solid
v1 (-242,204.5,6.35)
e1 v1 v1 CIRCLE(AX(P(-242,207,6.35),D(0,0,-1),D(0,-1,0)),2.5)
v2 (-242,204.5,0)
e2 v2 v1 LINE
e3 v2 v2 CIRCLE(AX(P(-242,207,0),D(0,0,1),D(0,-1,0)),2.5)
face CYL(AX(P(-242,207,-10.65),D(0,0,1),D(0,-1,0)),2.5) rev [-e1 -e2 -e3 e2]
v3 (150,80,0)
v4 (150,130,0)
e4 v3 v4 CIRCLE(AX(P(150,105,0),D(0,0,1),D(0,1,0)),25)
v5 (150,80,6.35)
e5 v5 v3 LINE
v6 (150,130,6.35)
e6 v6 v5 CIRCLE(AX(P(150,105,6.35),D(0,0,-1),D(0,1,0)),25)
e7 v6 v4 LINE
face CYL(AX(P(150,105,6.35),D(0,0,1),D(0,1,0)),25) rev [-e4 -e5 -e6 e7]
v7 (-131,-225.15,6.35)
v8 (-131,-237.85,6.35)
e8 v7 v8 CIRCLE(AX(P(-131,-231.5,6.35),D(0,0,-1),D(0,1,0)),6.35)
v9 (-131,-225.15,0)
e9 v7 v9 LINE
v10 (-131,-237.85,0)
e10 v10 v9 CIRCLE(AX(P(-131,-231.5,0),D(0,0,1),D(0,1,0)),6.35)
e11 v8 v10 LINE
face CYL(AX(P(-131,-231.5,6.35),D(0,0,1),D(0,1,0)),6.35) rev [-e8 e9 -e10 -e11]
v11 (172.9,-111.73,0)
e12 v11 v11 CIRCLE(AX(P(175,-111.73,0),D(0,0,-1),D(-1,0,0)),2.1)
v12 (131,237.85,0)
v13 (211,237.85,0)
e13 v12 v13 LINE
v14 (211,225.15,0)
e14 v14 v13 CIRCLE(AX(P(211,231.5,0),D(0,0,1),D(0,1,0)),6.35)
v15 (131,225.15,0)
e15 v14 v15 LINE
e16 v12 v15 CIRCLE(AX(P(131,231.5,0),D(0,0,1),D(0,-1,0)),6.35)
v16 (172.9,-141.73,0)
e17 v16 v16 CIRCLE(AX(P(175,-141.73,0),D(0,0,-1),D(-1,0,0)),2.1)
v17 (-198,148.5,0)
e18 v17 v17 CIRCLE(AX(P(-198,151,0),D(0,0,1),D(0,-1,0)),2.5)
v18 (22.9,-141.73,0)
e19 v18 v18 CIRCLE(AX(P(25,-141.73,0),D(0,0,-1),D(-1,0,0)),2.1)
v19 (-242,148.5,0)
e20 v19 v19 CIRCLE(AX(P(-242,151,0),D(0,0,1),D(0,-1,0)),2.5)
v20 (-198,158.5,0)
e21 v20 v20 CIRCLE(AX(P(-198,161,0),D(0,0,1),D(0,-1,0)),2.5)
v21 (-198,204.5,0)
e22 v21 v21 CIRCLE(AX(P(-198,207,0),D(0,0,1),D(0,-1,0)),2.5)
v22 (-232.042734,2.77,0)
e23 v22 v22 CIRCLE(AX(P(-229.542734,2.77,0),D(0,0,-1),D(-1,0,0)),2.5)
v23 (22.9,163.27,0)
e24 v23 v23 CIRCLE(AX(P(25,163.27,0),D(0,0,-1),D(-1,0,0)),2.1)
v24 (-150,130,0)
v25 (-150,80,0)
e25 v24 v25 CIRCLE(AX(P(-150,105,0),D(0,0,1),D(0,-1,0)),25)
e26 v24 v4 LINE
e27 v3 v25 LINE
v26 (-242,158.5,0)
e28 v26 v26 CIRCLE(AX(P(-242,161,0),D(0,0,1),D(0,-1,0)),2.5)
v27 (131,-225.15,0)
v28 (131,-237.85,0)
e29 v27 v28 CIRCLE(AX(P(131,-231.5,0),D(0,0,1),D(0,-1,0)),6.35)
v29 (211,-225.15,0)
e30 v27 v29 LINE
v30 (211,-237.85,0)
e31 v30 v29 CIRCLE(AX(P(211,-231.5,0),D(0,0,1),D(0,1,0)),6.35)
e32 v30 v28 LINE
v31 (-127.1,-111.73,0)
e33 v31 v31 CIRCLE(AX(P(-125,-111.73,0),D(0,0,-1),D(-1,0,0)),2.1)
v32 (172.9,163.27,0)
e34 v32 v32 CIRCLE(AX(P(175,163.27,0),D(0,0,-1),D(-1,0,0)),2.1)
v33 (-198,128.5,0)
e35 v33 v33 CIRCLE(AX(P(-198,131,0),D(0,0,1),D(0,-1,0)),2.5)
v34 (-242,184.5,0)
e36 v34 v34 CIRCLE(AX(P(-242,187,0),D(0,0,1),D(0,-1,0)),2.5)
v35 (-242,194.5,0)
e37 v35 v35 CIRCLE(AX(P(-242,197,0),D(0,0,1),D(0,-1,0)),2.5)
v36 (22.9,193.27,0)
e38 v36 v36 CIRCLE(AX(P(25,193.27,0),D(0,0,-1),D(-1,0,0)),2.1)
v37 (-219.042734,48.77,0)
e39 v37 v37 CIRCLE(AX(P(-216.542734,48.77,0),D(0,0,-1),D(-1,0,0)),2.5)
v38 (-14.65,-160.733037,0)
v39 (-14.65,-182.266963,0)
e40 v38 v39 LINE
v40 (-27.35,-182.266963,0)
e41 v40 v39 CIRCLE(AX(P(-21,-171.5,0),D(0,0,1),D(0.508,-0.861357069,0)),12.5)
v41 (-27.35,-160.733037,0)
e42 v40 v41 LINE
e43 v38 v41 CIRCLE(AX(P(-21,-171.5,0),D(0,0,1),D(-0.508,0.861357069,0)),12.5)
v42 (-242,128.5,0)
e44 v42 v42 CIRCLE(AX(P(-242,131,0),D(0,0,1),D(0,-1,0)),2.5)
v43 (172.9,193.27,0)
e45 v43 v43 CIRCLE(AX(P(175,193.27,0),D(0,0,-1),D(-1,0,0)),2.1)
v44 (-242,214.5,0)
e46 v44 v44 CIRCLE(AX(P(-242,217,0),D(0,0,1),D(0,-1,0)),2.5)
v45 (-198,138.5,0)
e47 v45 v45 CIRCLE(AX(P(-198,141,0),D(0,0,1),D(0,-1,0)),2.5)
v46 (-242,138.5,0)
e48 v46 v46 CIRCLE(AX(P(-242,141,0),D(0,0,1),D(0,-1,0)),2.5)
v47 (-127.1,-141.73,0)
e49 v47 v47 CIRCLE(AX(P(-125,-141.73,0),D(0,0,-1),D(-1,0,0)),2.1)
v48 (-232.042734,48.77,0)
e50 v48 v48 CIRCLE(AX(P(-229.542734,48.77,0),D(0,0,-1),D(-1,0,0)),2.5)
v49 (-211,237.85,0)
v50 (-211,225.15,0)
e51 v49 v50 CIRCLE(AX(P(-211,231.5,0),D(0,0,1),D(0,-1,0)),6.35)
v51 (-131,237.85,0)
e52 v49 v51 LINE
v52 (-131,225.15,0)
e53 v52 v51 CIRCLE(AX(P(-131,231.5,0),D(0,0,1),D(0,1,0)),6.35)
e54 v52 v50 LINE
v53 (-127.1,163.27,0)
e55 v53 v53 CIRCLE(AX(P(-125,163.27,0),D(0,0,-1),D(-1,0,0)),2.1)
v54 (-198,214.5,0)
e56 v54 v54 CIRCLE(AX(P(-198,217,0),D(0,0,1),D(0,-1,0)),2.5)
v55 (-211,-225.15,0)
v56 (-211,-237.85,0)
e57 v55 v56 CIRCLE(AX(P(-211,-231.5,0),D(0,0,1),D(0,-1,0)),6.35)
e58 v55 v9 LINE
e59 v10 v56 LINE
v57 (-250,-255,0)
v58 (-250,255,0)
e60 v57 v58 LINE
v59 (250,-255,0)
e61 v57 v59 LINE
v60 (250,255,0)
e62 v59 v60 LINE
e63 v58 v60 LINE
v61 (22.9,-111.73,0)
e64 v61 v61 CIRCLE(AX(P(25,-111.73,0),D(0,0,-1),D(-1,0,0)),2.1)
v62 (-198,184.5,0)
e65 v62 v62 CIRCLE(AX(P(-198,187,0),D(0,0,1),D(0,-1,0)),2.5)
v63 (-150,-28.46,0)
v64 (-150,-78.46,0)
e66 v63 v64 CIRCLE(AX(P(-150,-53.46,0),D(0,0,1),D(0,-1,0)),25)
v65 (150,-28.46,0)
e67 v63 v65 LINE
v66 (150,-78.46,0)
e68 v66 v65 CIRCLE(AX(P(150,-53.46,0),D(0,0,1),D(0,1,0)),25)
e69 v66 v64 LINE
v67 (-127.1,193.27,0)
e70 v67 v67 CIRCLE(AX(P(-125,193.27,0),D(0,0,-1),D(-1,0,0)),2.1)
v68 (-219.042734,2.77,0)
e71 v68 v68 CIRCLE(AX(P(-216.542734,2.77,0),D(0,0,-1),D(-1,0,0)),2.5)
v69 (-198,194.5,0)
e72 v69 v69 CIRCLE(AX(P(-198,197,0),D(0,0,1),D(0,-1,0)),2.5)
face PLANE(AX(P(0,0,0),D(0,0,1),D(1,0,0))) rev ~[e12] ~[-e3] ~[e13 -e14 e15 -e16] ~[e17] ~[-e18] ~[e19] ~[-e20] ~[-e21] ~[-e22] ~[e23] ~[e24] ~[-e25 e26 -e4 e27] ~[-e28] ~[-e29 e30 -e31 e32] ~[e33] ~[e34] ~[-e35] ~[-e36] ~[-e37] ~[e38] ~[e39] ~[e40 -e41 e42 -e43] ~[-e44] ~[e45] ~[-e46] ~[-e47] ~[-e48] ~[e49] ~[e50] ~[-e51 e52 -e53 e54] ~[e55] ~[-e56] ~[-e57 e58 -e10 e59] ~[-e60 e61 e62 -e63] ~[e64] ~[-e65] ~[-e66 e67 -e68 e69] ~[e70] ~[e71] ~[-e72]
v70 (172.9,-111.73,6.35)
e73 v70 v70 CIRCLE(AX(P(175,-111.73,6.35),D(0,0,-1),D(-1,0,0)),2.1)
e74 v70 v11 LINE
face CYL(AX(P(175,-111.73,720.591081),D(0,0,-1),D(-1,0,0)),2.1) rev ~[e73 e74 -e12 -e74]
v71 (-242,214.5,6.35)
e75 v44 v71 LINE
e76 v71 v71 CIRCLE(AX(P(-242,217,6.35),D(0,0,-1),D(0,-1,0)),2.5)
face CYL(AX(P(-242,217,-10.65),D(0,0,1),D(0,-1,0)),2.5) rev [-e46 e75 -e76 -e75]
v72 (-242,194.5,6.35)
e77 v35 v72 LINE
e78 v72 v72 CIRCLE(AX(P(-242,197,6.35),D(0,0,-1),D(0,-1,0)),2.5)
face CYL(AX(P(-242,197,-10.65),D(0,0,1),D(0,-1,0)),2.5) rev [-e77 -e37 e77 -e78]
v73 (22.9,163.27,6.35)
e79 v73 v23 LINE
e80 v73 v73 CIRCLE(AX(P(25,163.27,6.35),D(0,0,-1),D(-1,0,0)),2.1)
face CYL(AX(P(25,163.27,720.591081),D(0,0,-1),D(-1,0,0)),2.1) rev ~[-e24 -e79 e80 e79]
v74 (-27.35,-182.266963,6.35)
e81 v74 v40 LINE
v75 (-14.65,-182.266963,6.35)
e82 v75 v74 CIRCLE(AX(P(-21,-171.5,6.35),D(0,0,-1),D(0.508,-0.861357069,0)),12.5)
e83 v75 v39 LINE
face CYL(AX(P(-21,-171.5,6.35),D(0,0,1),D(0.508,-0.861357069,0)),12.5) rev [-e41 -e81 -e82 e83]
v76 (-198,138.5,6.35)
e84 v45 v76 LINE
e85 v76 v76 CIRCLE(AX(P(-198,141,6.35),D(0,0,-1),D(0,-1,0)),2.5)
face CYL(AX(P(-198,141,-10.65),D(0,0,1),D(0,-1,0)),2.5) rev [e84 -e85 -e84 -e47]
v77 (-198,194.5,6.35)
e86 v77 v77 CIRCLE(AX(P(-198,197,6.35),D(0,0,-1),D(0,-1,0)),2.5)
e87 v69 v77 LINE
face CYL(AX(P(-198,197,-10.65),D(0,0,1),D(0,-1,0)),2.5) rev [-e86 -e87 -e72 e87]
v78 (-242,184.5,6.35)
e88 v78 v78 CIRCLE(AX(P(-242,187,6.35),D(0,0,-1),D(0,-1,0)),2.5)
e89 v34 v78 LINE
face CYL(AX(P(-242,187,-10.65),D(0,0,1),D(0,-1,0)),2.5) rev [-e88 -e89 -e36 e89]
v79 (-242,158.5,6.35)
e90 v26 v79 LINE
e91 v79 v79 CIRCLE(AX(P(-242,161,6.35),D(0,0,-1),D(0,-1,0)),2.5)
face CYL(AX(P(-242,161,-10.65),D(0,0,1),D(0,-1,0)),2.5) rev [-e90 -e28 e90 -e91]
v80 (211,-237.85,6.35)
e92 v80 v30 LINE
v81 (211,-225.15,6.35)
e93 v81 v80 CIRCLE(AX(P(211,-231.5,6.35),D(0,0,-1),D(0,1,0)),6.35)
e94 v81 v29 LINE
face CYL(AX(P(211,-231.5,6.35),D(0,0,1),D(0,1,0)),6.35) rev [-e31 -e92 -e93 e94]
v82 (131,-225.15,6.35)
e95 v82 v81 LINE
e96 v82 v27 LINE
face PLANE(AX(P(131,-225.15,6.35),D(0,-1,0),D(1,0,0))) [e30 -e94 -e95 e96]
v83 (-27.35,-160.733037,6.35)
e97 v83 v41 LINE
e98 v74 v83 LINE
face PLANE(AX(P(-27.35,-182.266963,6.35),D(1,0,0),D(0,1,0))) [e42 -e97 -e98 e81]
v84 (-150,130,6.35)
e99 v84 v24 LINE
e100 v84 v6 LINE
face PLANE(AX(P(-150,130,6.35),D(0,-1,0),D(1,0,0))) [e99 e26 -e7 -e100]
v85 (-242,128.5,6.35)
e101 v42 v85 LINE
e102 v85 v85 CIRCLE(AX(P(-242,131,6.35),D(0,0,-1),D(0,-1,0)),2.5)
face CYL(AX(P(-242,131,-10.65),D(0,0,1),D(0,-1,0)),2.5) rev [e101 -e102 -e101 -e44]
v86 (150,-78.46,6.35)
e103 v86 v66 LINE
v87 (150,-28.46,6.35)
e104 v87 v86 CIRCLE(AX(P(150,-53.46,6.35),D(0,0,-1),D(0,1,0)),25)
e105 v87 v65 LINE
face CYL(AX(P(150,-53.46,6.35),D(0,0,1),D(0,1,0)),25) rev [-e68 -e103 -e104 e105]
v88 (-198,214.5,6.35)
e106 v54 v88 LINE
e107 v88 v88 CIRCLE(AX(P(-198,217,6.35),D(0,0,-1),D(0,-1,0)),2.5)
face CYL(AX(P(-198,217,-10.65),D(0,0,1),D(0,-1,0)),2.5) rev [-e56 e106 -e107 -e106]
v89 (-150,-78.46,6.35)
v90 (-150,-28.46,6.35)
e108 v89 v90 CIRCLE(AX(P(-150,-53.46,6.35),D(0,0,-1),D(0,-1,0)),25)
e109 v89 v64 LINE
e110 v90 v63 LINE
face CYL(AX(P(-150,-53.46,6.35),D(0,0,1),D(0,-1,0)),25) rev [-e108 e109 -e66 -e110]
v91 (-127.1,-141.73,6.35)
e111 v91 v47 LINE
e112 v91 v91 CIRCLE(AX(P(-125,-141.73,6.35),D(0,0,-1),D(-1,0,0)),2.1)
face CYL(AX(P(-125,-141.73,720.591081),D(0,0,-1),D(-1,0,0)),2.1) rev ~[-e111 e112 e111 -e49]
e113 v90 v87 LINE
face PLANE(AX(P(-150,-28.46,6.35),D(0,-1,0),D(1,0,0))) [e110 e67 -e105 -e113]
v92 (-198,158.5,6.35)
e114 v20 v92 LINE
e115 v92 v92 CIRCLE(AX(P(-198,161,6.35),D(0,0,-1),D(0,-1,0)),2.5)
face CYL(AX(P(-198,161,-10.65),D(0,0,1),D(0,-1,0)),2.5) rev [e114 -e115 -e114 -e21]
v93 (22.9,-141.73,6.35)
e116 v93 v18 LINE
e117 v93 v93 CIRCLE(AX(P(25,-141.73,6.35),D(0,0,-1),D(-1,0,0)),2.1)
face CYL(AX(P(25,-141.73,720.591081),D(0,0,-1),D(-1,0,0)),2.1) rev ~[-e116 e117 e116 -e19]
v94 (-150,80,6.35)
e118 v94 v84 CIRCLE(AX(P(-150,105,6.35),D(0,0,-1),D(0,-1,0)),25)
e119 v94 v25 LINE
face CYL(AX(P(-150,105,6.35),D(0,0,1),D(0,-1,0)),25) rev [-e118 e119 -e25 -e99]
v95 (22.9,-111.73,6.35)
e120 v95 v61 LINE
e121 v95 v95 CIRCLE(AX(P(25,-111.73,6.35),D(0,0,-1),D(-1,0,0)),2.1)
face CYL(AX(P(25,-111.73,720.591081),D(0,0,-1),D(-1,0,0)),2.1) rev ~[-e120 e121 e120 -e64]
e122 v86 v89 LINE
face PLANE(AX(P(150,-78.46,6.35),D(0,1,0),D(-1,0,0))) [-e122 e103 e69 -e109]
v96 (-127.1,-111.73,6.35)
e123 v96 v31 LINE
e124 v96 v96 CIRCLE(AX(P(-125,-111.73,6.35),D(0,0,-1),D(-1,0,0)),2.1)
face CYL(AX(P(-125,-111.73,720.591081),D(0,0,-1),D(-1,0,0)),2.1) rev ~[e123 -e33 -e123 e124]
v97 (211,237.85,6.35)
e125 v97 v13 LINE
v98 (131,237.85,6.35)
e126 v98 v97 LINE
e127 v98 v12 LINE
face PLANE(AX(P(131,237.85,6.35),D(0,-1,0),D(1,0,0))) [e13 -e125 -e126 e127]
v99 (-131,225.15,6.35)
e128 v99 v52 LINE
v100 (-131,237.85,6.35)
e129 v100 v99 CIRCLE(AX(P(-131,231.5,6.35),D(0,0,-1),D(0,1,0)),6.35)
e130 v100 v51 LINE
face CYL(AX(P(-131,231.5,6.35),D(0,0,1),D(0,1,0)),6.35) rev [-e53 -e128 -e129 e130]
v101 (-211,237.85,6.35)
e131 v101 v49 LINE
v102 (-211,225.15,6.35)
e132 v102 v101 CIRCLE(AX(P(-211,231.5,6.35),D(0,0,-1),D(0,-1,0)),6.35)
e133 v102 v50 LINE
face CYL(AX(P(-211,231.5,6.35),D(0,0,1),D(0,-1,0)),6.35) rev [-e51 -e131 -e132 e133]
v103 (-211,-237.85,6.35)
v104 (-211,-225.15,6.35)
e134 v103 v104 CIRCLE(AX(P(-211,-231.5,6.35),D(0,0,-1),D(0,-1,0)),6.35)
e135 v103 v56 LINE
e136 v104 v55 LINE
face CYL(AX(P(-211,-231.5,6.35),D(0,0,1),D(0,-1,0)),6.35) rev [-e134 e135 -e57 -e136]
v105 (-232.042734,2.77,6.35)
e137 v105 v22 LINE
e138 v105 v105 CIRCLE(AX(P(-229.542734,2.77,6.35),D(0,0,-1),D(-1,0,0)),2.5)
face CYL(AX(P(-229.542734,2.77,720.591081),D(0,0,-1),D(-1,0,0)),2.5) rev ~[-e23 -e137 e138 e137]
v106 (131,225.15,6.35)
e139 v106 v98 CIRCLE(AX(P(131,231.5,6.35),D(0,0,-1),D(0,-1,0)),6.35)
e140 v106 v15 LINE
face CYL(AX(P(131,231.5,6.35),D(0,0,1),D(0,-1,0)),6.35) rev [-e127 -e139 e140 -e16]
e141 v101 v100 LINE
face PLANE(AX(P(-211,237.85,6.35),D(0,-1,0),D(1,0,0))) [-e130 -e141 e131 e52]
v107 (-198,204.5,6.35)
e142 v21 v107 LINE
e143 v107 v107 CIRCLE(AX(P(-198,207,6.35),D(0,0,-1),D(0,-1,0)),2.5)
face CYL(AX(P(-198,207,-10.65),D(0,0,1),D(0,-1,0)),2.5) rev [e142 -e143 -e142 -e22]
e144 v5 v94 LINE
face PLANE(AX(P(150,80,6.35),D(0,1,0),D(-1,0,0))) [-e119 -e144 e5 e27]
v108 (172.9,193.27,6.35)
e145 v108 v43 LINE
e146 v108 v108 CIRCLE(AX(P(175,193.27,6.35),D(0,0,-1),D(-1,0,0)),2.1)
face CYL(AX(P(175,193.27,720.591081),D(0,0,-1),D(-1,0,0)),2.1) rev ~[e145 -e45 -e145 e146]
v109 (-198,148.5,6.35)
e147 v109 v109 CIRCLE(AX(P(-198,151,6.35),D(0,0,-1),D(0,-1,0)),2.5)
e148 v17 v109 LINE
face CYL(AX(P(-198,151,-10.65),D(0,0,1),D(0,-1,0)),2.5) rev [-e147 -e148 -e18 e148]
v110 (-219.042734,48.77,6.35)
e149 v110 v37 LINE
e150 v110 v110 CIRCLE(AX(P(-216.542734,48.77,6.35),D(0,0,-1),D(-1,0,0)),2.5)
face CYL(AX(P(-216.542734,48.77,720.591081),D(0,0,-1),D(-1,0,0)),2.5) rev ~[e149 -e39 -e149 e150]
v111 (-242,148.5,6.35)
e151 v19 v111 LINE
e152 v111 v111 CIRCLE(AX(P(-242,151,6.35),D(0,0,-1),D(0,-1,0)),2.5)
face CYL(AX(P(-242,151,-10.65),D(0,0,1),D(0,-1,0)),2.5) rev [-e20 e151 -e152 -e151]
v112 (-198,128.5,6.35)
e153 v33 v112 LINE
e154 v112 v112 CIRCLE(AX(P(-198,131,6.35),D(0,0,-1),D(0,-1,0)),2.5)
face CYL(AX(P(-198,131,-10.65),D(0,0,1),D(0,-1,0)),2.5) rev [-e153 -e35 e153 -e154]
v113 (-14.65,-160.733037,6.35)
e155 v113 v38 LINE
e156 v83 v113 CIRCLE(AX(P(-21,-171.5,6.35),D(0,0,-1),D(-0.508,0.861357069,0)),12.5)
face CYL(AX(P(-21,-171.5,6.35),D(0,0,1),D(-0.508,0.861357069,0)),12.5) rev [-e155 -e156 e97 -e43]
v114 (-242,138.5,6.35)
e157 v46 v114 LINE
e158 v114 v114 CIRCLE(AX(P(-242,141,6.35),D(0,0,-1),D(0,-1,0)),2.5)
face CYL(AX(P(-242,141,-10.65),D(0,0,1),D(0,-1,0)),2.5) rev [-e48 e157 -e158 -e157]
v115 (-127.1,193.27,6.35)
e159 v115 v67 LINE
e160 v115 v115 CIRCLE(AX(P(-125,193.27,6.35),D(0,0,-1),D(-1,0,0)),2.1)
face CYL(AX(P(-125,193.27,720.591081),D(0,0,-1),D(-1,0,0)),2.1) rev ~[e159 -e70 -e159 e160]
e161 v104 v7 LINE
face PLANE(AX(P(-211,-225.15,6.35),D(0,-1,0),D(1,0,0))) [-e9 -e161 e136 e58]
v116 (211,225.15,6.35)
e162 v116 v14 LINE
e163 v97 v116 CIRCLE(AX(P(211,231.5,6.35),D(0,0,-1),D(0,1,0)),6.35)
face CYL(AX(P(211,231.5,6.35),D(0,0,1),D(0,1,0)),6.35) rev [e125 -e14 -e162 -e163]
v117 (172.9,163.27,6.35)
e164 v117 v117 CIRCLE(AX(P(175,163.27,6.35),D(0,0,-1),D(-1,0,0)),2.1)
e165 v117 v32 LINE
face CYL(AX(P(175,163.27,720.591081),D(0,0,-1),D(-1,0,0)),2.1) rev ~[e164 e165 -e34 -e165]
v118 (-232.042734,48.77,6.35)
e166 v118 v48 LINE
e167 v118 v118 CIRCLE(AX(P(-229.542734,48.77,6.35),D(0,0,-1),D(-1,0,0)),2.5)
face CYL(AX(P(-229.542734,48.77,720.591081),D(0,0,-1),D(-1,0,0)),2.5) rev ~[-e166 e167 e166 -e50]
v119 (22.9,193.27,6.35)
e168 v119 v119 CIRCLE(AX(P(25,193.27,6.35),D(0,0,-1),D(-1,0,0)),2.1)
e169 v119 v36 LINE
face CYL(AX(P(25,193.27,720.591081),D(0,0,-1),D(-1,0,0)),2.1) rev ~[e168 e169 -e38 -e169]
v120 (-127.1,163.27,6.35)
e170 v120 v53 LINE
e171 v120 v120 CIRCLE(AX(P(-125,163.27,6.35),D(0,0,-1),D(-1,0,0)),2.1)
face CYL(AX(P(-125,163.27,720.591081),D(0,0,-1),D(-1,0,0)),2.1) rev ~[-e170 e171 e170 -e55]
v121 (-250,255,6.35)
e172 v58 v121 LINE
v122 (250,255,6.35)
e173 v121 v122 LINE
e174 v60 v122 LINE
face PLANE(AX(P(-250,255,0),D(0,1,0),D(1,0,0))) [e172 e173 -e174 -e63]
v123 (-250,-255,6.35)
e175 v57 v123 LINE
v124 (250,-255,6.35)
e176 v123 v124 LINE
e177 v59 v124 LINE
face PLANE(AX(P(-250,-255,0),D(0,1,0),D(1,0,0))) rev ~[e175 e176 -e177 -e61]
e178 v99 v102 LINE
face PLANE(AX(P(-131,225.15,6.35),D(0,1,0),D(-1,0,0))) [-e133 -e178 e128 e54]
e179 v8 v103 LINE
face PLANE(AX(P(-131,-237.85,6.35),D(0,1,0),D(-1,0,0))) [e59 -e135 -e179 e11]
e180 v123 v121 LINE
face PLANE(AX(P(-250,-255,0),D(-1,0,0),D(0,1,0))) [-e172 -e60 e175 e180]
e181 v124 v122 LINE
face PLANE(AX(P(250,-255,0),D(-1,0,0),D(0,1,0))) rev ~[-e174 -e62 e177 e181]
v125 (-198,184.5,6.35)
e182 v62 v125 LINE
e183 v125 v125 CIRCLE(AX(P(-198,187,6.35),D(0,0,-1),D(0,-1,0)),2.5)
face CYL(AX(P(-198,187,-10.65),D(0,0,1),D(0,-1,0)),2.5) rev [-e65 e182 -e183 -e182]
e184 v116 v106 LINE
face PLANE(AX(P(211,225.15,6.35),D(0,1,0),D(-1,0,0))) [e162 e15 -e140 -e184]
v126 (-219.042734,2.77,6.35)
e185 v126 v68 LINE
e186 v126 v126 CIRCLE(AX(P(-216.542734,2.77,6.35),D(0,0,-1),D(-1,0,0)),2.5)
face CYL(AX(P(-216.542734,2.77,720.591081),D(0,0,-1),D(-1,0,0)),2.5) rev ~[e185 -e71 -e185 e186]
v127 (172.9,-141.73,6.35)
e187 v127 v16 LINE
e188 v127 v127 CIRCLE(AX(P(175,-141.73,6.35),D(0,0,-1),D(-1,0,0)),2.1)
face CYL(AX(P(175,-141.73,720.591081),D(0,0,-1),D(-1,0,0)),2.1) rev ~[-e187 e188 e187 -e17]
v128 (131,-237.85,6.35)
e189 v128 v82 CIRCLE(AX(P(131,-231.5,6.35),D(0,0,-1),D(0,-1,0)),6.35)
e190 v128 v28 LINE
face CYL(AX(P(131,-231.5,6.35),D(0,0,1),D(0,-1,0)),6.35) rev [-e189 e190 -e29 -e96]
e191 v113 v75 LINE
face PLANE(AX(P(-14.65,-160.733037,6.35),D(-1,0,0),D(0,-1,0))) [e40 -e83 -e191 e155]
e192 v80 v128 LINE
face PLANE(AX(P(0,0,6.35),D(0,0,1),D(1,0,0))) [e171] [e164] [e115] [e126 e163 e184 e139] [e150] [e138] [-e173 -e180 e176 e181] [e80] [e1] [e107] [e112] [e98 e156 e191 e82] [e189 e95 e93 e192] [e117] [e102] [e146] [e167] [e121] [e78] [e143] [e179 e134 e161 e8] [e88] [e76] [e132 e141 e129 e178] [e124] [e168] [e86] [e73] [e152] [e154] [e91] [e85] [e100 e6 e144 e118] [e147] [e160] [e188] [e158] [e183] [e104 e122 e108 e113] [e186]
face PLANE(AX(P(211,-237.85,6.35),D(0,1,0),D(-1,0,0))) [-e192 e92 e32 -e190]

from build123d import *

# Parameters (mm, degrees)
CROQUIS1_W                         = 500
CROQUIS1_H                         = 510
SALIENTE_EXTRUIR1_DEPTH            = 6.35
CORTAR_EXTRUIR1_DEPTH              = 358.16287951
CORTAR_EXTRUIR2_DEPTH              = 358.16287951
TALADRO_ROSCADO_M6X1_01_AT_2_COUNT = 2
TALADRO_ROSCADO_M6X1_01_AT_2_PITCH = 44
TALADRO_ROSCADO_M6X1_01_AT_3_COUNT = 2
TALADRO_ROSCADO_M6X1_01_AT_3_PITCH = 71.217975259
TALADRO_ROSCADO_M6X1_01_AT_4_COUNT = 2
TALADRO_ROSCADO_M6X1_01_AT_4_PITCH = 56
MATRIZL1_COUNT                     = 4
MATRIZL1_PITCH                     = 10
TALADRO_ROSCADO_M5X0_82_D          = 4.2
TALADRO_ROSCADO_M6X1_02_D          = 5


with BuildPart() as part:
    # Croquis1 → Saliente-Extruir1 (new body)
    with BuildSketch(Plane.XY):
        Rectangle(CROQUIS1_W, CROQUIS1_H)
    extrude(amount=SALIENTE_EXTRUIR1_DEPTH)

    # Croquis2 → Cortar-Extruir1 (cut, through all)
    with BuildSketch(Plane.XY.offset(6.35)):
        with BuildLine():
            Line((-211, -225.15), (-131, -225.15))
            ThreePointArc((-131, -225.15), (-124.65, -231.5), (-131, -237.85))
            Line((-131, -237.85), (-211, -237.85))
            ThreePointArc((-211, -237.85), (-217.35, -231.5), (-211, -225.15))
        make_face()
        with BuildLine():
            Line((-211, 237.85), (-131, 237.85))
            ThreePointArc((-131, 237.85), (-124.65, 231.5), (-131, 225.15))
            Line((-131, 225.15), (-211, 225.15))
            ThreePointArc((-211, 225.15), (-217.35, 231.5), (-211, 237.85))
        make_face()
        with BuildLine():
            Line((131, 237.85), (211, 237.85))
            ThreePointArc((211, 237.85), (217.35, 231.5), (211, 225.15))
            Line((211, 225.15), (131, 225.15))
            ThreePointArc((131, 225.15), (124.65, 231.5), (131, 237.85))
        make_face()
        with BuildLine():
            Line((131, -225.15), (211, -225.15))
            ThreePointArc((211, -225.15), (217.35, -231.5), (211, -237.85))
            Line((211, -237.85), (131, -237.85))
            ThreePointArc((131, -237.85), (124.65, -231.5), (131, -225.15))
        make_face()
        with BuildLine():
            Line((-14.65, -160.73303664), (-14.65, -182.26696336))
            ThreePointArc((-14.65, -182.26696336), (-21, -184), (-27.35, -182.26696336))
            Line((-27.35, -182.26696336), (-27.35, -160.73303664))
            ThreePointArc((-27.35, -160.73303664), (-21, -159), (-14.65, -160.73303664))
        make_face()
    extrude(amount=-CORTAR_EXTRUIR1_DEPTH, mode=Mode.SUBTRACT)

    # Croquis4 → Cortar-Extruir2 (cut, through all)
    with BuildSketch(Plane.XY.offset(6.35)):
        with BuildLine():
            Line((-150, 130), (150, 130))
            ThreePointArc((150, 130), (175, 105), (150, 80))
            Line((150, 80), (-150, 80))
            ThreePointArc((-150, 80), (-175, 105), (-150, 130))
        make_face()
        with BuildLine():
            Line((-150, -28.46), (150, -28.46))
            ThreePointArc((150, -28.46), (175, -53.46), (150, -78.46))
            Line((150, -78.46), (-150, -78.46))
            ThreePointArc((-150, -78.46), (-175, -53.46), (-150, -28.46))
        make_face()
    extrude(amount=-CORTAR_EXTRUIR2_DEPTH, mode=Mode.SUBTRACT)

    # Croquis7 → Taladro roscado M6x1.01 (revolve, cut)
    with BuildSketch(Plane(origin=(-242, 217, 6.35), x_dir=(0, -1, 0), z_dir=(1, 0, 0))):
        Polygon((0, 0), (0, 18.502151548), (2.5, 17), (2.5, 0), align=None)
    taladro_roscado_m6x1_01 = revolve(axis=Axis((-242, 217, 12.7), (0, 0, -1)), mode=Mode.SUBTRACT)

    # Taladro roscado M6x1.01 at 2: Taladro roscado M6x1.01 ×2
    with Locations(*[(i * TALADRO_ROSCADO_M6X1_01_AT_2_PITCH, 0, 0) for i in range(1, TALADRO_ROSCADO_M6X1_01_AT_2_COUNT)]):
        add(taladro_roscado_m6x1_01, mode=Mode.SUBTRACT)

    # Taladro roscado M6x1.01 at 3: Taladro roscado M6x1.01 ×2
    with Locations(*[Vector(0.6178215519319036, -0.7863183388224226, 0) * (i * TALADRO_ROSCADO_M6X1_01_AT_3_PITCH) for i in range(1, TALADRO_ROSCADO_M6X1_01_AT_3_COUNT)]):
        add(taladro_roscado_m6x1_01, mode=Mode.SUBTRACT)

    # Taladro roscado M6x1.01 at 4: Taladro roscado M6x1.01 ×2
    with Locations(*[(0, -i * TALADRO_ROSCADO_M6X1_01_AT_4_PITCH, 0) for i in range(1, TALADRO_ROSCADO_M6X1_01_AT_4_COUNT)]):
        add(taladro_roscado_m6x1_01, mode=Mode.SUBTRACT)

    # MatrizL1: Taladro roscado M6x1.01 ×4
    with Locations(*[(0, -i * MATRIZL1_PITCH, 0) for i in range(1, MATRIZL1_COUNT)]):
        add(taladro_roscado_m6x1_01, mode=Mode.SUBTRACT)

    # MatrizL1 copy 1 sketch → MatrizL1 copy 1 (revolve, cut)
    with BuildSketch(Plane(origin=(-198, 207, 6.35), x_dir=(0, -1, 0), z_dir=(1, 0, 0))):
        Polygon((0, 0), (0, 18.502151548), (2.5, 17), (2.5, 0), align=None)
    revolve(axis=Axis((-198, 207, 12.7), (0, 0, -1)), mode=Mode.SUBTRACT)

    # MatrizL1 copy 2 sketch → MatrizL1 copy 2 (revolve, cut)
    with BuildSketch(Plane(origin=(-198, 197, 6.35), x_dir=(0, -1, 0), z_dir=(1, 0, 0))):
        Polygon((0, 0), (0, 18.502151548), (2.5, 17), (2.5, 0), align=None)
    revolve(axis=Axis((-198, 197, 12.7), (0, 0, -1)), mode=Mode.SUBTRACT)

    # MatrizL1 copy 3 sketch → MatrizL1 copy 3 (revolve, cut)
    with BuildSketch(Plane(origin=(-198, 187, 6.35), x_dir=(0, -1, 0), z_dir=(1, 0, 0))):
        Polygon((0, 0), (0, 18.502151548), (2.5, 17), (2.5, 0), align=None)
    revolve(axis=Axis((-198, 187, 12.7), (0, 0, -1)), mode=Mode.SUBTRACT)

    # MatrizL1 copy 4 sketch → MatrizL1 copy 4 (revolve, cut)
    with BuildSketch(Plane(origin=(-198, 151, 6.35), x_dir=(0, -1, 0), z_dir=(1, 0, 0))):
        Polygon((0, 0), (0, 18.502151548), (2.5, 17), (2.5, 0), align=None)
    revolve(axis=Axis((-198, 151, 12.7), (0, 0, -1)), mode=Mode.SUBTRACT)

    # MatrizL1 copy 5 sketch → MatrizL1 copy 5 (revolve, cut)
    with BuildSketch(Plane(origin=(-198, 141, 6.35), x_dir=(0, -1, 0), z_dir=(1, 0, 0))):
        Polygon((0, 0), (0, 18.502151548), (2.5, 17), (2.5, 0), align=None)
    revolve(axis=Axis((-198, 141, 12.7), (0, 0, -1)), mode=Mode.SUBTRACT)

    # MatrizL1 copy 6 sketch → MatrizL1 copy 6 (revolve, cut)
    with BuildSketch(Plane(origin=(-198, 131, 6.35), x_dir=(0, -1, 0), z_dir=(1, 0, 0))):
        Polygon((0, 0), (0, 18.502151548), (2.5, 17), (2.5, 0), align=None)
    revolve(axis=Axis((-198, 131, 12.7), (0, 0, -1)), mode=Mode.SUBTRACT)

    # MatrizL1 copy 7 sketch → MatrizL1 copy 7 (revolve, cut)
    with BuildSketch(Plane(origin=(-242, 151, 6.35), x_dir=(0, -1, 0), z_dir=(1, 0, 0))):
        Polygon((0, 0), (0, 18.502151548), (2.5, 17), (2.5, 0), align=None)
    revolve(axis=Axis((-242, 151, 12.7), (0, 0, -1)), mode=Mode.SUBTRACT)

    # MatrizL1 copy 8 sketch → MatrizL1 copy 8 (revolve, cut)
    with BuildSketch(Plane(origin=(-242, 141, 6.35), x_dir=(0, -1, 0), z_dir=(1, 0, 0))):
        Polygon((0, 0), (0, 18.502151548), (2.5, 17), (2.5, 0), align=None)
    revolve(axis=Axis((-242, 141, 12.7), (0, 0, -1)), mode=Mode.SUBTRACT)

    # MatrizL1 copy 9 sketch → MatrizL1 copy 9 (revolve, cut)
    with BuildSketch(Plane(origin=(-242, 131, 6.35), x_dir=(0, -1, 0), z_dir=(1, 0, 0))):
        Polygon((0, 0), (0, 18.502151548), (2.5, 17), (2.5, 0), align=None)
    revolve(axis=Axis((-242, 131, 12.7), (0, 0, -1)), mode=Mode.SUBTRACT)

    # Taladro roscado M5x0.82 (through all)
    with Locations(Plane.XY.offset(6.35)):
        with Locations((-125, 193.27), (-125, 163.27), (25, 193.27), (25, 163.27), (175, 193.27), (175, 163.27), (175, -111.73), (175, -141.73), (25, -111.73), (25, -141.73), (-125, -111.73), (-125, -141.73)):
            Hole(TALADRO_ROSCADO_M5X0_82_D / 2)

    # Taladro roscado M6x1.02 (through all)
    with Locations(Plane.XY.offset(6.35)):
        with Locations((-229.542734314, 48.77), (-216.542734314, 48.77), (-216.542734314, 2.77), (-229.542734314, 2.77)):
            Hole(TALADRO_ROSCADO_M6X1_02_D / 2)


solid = part.part
